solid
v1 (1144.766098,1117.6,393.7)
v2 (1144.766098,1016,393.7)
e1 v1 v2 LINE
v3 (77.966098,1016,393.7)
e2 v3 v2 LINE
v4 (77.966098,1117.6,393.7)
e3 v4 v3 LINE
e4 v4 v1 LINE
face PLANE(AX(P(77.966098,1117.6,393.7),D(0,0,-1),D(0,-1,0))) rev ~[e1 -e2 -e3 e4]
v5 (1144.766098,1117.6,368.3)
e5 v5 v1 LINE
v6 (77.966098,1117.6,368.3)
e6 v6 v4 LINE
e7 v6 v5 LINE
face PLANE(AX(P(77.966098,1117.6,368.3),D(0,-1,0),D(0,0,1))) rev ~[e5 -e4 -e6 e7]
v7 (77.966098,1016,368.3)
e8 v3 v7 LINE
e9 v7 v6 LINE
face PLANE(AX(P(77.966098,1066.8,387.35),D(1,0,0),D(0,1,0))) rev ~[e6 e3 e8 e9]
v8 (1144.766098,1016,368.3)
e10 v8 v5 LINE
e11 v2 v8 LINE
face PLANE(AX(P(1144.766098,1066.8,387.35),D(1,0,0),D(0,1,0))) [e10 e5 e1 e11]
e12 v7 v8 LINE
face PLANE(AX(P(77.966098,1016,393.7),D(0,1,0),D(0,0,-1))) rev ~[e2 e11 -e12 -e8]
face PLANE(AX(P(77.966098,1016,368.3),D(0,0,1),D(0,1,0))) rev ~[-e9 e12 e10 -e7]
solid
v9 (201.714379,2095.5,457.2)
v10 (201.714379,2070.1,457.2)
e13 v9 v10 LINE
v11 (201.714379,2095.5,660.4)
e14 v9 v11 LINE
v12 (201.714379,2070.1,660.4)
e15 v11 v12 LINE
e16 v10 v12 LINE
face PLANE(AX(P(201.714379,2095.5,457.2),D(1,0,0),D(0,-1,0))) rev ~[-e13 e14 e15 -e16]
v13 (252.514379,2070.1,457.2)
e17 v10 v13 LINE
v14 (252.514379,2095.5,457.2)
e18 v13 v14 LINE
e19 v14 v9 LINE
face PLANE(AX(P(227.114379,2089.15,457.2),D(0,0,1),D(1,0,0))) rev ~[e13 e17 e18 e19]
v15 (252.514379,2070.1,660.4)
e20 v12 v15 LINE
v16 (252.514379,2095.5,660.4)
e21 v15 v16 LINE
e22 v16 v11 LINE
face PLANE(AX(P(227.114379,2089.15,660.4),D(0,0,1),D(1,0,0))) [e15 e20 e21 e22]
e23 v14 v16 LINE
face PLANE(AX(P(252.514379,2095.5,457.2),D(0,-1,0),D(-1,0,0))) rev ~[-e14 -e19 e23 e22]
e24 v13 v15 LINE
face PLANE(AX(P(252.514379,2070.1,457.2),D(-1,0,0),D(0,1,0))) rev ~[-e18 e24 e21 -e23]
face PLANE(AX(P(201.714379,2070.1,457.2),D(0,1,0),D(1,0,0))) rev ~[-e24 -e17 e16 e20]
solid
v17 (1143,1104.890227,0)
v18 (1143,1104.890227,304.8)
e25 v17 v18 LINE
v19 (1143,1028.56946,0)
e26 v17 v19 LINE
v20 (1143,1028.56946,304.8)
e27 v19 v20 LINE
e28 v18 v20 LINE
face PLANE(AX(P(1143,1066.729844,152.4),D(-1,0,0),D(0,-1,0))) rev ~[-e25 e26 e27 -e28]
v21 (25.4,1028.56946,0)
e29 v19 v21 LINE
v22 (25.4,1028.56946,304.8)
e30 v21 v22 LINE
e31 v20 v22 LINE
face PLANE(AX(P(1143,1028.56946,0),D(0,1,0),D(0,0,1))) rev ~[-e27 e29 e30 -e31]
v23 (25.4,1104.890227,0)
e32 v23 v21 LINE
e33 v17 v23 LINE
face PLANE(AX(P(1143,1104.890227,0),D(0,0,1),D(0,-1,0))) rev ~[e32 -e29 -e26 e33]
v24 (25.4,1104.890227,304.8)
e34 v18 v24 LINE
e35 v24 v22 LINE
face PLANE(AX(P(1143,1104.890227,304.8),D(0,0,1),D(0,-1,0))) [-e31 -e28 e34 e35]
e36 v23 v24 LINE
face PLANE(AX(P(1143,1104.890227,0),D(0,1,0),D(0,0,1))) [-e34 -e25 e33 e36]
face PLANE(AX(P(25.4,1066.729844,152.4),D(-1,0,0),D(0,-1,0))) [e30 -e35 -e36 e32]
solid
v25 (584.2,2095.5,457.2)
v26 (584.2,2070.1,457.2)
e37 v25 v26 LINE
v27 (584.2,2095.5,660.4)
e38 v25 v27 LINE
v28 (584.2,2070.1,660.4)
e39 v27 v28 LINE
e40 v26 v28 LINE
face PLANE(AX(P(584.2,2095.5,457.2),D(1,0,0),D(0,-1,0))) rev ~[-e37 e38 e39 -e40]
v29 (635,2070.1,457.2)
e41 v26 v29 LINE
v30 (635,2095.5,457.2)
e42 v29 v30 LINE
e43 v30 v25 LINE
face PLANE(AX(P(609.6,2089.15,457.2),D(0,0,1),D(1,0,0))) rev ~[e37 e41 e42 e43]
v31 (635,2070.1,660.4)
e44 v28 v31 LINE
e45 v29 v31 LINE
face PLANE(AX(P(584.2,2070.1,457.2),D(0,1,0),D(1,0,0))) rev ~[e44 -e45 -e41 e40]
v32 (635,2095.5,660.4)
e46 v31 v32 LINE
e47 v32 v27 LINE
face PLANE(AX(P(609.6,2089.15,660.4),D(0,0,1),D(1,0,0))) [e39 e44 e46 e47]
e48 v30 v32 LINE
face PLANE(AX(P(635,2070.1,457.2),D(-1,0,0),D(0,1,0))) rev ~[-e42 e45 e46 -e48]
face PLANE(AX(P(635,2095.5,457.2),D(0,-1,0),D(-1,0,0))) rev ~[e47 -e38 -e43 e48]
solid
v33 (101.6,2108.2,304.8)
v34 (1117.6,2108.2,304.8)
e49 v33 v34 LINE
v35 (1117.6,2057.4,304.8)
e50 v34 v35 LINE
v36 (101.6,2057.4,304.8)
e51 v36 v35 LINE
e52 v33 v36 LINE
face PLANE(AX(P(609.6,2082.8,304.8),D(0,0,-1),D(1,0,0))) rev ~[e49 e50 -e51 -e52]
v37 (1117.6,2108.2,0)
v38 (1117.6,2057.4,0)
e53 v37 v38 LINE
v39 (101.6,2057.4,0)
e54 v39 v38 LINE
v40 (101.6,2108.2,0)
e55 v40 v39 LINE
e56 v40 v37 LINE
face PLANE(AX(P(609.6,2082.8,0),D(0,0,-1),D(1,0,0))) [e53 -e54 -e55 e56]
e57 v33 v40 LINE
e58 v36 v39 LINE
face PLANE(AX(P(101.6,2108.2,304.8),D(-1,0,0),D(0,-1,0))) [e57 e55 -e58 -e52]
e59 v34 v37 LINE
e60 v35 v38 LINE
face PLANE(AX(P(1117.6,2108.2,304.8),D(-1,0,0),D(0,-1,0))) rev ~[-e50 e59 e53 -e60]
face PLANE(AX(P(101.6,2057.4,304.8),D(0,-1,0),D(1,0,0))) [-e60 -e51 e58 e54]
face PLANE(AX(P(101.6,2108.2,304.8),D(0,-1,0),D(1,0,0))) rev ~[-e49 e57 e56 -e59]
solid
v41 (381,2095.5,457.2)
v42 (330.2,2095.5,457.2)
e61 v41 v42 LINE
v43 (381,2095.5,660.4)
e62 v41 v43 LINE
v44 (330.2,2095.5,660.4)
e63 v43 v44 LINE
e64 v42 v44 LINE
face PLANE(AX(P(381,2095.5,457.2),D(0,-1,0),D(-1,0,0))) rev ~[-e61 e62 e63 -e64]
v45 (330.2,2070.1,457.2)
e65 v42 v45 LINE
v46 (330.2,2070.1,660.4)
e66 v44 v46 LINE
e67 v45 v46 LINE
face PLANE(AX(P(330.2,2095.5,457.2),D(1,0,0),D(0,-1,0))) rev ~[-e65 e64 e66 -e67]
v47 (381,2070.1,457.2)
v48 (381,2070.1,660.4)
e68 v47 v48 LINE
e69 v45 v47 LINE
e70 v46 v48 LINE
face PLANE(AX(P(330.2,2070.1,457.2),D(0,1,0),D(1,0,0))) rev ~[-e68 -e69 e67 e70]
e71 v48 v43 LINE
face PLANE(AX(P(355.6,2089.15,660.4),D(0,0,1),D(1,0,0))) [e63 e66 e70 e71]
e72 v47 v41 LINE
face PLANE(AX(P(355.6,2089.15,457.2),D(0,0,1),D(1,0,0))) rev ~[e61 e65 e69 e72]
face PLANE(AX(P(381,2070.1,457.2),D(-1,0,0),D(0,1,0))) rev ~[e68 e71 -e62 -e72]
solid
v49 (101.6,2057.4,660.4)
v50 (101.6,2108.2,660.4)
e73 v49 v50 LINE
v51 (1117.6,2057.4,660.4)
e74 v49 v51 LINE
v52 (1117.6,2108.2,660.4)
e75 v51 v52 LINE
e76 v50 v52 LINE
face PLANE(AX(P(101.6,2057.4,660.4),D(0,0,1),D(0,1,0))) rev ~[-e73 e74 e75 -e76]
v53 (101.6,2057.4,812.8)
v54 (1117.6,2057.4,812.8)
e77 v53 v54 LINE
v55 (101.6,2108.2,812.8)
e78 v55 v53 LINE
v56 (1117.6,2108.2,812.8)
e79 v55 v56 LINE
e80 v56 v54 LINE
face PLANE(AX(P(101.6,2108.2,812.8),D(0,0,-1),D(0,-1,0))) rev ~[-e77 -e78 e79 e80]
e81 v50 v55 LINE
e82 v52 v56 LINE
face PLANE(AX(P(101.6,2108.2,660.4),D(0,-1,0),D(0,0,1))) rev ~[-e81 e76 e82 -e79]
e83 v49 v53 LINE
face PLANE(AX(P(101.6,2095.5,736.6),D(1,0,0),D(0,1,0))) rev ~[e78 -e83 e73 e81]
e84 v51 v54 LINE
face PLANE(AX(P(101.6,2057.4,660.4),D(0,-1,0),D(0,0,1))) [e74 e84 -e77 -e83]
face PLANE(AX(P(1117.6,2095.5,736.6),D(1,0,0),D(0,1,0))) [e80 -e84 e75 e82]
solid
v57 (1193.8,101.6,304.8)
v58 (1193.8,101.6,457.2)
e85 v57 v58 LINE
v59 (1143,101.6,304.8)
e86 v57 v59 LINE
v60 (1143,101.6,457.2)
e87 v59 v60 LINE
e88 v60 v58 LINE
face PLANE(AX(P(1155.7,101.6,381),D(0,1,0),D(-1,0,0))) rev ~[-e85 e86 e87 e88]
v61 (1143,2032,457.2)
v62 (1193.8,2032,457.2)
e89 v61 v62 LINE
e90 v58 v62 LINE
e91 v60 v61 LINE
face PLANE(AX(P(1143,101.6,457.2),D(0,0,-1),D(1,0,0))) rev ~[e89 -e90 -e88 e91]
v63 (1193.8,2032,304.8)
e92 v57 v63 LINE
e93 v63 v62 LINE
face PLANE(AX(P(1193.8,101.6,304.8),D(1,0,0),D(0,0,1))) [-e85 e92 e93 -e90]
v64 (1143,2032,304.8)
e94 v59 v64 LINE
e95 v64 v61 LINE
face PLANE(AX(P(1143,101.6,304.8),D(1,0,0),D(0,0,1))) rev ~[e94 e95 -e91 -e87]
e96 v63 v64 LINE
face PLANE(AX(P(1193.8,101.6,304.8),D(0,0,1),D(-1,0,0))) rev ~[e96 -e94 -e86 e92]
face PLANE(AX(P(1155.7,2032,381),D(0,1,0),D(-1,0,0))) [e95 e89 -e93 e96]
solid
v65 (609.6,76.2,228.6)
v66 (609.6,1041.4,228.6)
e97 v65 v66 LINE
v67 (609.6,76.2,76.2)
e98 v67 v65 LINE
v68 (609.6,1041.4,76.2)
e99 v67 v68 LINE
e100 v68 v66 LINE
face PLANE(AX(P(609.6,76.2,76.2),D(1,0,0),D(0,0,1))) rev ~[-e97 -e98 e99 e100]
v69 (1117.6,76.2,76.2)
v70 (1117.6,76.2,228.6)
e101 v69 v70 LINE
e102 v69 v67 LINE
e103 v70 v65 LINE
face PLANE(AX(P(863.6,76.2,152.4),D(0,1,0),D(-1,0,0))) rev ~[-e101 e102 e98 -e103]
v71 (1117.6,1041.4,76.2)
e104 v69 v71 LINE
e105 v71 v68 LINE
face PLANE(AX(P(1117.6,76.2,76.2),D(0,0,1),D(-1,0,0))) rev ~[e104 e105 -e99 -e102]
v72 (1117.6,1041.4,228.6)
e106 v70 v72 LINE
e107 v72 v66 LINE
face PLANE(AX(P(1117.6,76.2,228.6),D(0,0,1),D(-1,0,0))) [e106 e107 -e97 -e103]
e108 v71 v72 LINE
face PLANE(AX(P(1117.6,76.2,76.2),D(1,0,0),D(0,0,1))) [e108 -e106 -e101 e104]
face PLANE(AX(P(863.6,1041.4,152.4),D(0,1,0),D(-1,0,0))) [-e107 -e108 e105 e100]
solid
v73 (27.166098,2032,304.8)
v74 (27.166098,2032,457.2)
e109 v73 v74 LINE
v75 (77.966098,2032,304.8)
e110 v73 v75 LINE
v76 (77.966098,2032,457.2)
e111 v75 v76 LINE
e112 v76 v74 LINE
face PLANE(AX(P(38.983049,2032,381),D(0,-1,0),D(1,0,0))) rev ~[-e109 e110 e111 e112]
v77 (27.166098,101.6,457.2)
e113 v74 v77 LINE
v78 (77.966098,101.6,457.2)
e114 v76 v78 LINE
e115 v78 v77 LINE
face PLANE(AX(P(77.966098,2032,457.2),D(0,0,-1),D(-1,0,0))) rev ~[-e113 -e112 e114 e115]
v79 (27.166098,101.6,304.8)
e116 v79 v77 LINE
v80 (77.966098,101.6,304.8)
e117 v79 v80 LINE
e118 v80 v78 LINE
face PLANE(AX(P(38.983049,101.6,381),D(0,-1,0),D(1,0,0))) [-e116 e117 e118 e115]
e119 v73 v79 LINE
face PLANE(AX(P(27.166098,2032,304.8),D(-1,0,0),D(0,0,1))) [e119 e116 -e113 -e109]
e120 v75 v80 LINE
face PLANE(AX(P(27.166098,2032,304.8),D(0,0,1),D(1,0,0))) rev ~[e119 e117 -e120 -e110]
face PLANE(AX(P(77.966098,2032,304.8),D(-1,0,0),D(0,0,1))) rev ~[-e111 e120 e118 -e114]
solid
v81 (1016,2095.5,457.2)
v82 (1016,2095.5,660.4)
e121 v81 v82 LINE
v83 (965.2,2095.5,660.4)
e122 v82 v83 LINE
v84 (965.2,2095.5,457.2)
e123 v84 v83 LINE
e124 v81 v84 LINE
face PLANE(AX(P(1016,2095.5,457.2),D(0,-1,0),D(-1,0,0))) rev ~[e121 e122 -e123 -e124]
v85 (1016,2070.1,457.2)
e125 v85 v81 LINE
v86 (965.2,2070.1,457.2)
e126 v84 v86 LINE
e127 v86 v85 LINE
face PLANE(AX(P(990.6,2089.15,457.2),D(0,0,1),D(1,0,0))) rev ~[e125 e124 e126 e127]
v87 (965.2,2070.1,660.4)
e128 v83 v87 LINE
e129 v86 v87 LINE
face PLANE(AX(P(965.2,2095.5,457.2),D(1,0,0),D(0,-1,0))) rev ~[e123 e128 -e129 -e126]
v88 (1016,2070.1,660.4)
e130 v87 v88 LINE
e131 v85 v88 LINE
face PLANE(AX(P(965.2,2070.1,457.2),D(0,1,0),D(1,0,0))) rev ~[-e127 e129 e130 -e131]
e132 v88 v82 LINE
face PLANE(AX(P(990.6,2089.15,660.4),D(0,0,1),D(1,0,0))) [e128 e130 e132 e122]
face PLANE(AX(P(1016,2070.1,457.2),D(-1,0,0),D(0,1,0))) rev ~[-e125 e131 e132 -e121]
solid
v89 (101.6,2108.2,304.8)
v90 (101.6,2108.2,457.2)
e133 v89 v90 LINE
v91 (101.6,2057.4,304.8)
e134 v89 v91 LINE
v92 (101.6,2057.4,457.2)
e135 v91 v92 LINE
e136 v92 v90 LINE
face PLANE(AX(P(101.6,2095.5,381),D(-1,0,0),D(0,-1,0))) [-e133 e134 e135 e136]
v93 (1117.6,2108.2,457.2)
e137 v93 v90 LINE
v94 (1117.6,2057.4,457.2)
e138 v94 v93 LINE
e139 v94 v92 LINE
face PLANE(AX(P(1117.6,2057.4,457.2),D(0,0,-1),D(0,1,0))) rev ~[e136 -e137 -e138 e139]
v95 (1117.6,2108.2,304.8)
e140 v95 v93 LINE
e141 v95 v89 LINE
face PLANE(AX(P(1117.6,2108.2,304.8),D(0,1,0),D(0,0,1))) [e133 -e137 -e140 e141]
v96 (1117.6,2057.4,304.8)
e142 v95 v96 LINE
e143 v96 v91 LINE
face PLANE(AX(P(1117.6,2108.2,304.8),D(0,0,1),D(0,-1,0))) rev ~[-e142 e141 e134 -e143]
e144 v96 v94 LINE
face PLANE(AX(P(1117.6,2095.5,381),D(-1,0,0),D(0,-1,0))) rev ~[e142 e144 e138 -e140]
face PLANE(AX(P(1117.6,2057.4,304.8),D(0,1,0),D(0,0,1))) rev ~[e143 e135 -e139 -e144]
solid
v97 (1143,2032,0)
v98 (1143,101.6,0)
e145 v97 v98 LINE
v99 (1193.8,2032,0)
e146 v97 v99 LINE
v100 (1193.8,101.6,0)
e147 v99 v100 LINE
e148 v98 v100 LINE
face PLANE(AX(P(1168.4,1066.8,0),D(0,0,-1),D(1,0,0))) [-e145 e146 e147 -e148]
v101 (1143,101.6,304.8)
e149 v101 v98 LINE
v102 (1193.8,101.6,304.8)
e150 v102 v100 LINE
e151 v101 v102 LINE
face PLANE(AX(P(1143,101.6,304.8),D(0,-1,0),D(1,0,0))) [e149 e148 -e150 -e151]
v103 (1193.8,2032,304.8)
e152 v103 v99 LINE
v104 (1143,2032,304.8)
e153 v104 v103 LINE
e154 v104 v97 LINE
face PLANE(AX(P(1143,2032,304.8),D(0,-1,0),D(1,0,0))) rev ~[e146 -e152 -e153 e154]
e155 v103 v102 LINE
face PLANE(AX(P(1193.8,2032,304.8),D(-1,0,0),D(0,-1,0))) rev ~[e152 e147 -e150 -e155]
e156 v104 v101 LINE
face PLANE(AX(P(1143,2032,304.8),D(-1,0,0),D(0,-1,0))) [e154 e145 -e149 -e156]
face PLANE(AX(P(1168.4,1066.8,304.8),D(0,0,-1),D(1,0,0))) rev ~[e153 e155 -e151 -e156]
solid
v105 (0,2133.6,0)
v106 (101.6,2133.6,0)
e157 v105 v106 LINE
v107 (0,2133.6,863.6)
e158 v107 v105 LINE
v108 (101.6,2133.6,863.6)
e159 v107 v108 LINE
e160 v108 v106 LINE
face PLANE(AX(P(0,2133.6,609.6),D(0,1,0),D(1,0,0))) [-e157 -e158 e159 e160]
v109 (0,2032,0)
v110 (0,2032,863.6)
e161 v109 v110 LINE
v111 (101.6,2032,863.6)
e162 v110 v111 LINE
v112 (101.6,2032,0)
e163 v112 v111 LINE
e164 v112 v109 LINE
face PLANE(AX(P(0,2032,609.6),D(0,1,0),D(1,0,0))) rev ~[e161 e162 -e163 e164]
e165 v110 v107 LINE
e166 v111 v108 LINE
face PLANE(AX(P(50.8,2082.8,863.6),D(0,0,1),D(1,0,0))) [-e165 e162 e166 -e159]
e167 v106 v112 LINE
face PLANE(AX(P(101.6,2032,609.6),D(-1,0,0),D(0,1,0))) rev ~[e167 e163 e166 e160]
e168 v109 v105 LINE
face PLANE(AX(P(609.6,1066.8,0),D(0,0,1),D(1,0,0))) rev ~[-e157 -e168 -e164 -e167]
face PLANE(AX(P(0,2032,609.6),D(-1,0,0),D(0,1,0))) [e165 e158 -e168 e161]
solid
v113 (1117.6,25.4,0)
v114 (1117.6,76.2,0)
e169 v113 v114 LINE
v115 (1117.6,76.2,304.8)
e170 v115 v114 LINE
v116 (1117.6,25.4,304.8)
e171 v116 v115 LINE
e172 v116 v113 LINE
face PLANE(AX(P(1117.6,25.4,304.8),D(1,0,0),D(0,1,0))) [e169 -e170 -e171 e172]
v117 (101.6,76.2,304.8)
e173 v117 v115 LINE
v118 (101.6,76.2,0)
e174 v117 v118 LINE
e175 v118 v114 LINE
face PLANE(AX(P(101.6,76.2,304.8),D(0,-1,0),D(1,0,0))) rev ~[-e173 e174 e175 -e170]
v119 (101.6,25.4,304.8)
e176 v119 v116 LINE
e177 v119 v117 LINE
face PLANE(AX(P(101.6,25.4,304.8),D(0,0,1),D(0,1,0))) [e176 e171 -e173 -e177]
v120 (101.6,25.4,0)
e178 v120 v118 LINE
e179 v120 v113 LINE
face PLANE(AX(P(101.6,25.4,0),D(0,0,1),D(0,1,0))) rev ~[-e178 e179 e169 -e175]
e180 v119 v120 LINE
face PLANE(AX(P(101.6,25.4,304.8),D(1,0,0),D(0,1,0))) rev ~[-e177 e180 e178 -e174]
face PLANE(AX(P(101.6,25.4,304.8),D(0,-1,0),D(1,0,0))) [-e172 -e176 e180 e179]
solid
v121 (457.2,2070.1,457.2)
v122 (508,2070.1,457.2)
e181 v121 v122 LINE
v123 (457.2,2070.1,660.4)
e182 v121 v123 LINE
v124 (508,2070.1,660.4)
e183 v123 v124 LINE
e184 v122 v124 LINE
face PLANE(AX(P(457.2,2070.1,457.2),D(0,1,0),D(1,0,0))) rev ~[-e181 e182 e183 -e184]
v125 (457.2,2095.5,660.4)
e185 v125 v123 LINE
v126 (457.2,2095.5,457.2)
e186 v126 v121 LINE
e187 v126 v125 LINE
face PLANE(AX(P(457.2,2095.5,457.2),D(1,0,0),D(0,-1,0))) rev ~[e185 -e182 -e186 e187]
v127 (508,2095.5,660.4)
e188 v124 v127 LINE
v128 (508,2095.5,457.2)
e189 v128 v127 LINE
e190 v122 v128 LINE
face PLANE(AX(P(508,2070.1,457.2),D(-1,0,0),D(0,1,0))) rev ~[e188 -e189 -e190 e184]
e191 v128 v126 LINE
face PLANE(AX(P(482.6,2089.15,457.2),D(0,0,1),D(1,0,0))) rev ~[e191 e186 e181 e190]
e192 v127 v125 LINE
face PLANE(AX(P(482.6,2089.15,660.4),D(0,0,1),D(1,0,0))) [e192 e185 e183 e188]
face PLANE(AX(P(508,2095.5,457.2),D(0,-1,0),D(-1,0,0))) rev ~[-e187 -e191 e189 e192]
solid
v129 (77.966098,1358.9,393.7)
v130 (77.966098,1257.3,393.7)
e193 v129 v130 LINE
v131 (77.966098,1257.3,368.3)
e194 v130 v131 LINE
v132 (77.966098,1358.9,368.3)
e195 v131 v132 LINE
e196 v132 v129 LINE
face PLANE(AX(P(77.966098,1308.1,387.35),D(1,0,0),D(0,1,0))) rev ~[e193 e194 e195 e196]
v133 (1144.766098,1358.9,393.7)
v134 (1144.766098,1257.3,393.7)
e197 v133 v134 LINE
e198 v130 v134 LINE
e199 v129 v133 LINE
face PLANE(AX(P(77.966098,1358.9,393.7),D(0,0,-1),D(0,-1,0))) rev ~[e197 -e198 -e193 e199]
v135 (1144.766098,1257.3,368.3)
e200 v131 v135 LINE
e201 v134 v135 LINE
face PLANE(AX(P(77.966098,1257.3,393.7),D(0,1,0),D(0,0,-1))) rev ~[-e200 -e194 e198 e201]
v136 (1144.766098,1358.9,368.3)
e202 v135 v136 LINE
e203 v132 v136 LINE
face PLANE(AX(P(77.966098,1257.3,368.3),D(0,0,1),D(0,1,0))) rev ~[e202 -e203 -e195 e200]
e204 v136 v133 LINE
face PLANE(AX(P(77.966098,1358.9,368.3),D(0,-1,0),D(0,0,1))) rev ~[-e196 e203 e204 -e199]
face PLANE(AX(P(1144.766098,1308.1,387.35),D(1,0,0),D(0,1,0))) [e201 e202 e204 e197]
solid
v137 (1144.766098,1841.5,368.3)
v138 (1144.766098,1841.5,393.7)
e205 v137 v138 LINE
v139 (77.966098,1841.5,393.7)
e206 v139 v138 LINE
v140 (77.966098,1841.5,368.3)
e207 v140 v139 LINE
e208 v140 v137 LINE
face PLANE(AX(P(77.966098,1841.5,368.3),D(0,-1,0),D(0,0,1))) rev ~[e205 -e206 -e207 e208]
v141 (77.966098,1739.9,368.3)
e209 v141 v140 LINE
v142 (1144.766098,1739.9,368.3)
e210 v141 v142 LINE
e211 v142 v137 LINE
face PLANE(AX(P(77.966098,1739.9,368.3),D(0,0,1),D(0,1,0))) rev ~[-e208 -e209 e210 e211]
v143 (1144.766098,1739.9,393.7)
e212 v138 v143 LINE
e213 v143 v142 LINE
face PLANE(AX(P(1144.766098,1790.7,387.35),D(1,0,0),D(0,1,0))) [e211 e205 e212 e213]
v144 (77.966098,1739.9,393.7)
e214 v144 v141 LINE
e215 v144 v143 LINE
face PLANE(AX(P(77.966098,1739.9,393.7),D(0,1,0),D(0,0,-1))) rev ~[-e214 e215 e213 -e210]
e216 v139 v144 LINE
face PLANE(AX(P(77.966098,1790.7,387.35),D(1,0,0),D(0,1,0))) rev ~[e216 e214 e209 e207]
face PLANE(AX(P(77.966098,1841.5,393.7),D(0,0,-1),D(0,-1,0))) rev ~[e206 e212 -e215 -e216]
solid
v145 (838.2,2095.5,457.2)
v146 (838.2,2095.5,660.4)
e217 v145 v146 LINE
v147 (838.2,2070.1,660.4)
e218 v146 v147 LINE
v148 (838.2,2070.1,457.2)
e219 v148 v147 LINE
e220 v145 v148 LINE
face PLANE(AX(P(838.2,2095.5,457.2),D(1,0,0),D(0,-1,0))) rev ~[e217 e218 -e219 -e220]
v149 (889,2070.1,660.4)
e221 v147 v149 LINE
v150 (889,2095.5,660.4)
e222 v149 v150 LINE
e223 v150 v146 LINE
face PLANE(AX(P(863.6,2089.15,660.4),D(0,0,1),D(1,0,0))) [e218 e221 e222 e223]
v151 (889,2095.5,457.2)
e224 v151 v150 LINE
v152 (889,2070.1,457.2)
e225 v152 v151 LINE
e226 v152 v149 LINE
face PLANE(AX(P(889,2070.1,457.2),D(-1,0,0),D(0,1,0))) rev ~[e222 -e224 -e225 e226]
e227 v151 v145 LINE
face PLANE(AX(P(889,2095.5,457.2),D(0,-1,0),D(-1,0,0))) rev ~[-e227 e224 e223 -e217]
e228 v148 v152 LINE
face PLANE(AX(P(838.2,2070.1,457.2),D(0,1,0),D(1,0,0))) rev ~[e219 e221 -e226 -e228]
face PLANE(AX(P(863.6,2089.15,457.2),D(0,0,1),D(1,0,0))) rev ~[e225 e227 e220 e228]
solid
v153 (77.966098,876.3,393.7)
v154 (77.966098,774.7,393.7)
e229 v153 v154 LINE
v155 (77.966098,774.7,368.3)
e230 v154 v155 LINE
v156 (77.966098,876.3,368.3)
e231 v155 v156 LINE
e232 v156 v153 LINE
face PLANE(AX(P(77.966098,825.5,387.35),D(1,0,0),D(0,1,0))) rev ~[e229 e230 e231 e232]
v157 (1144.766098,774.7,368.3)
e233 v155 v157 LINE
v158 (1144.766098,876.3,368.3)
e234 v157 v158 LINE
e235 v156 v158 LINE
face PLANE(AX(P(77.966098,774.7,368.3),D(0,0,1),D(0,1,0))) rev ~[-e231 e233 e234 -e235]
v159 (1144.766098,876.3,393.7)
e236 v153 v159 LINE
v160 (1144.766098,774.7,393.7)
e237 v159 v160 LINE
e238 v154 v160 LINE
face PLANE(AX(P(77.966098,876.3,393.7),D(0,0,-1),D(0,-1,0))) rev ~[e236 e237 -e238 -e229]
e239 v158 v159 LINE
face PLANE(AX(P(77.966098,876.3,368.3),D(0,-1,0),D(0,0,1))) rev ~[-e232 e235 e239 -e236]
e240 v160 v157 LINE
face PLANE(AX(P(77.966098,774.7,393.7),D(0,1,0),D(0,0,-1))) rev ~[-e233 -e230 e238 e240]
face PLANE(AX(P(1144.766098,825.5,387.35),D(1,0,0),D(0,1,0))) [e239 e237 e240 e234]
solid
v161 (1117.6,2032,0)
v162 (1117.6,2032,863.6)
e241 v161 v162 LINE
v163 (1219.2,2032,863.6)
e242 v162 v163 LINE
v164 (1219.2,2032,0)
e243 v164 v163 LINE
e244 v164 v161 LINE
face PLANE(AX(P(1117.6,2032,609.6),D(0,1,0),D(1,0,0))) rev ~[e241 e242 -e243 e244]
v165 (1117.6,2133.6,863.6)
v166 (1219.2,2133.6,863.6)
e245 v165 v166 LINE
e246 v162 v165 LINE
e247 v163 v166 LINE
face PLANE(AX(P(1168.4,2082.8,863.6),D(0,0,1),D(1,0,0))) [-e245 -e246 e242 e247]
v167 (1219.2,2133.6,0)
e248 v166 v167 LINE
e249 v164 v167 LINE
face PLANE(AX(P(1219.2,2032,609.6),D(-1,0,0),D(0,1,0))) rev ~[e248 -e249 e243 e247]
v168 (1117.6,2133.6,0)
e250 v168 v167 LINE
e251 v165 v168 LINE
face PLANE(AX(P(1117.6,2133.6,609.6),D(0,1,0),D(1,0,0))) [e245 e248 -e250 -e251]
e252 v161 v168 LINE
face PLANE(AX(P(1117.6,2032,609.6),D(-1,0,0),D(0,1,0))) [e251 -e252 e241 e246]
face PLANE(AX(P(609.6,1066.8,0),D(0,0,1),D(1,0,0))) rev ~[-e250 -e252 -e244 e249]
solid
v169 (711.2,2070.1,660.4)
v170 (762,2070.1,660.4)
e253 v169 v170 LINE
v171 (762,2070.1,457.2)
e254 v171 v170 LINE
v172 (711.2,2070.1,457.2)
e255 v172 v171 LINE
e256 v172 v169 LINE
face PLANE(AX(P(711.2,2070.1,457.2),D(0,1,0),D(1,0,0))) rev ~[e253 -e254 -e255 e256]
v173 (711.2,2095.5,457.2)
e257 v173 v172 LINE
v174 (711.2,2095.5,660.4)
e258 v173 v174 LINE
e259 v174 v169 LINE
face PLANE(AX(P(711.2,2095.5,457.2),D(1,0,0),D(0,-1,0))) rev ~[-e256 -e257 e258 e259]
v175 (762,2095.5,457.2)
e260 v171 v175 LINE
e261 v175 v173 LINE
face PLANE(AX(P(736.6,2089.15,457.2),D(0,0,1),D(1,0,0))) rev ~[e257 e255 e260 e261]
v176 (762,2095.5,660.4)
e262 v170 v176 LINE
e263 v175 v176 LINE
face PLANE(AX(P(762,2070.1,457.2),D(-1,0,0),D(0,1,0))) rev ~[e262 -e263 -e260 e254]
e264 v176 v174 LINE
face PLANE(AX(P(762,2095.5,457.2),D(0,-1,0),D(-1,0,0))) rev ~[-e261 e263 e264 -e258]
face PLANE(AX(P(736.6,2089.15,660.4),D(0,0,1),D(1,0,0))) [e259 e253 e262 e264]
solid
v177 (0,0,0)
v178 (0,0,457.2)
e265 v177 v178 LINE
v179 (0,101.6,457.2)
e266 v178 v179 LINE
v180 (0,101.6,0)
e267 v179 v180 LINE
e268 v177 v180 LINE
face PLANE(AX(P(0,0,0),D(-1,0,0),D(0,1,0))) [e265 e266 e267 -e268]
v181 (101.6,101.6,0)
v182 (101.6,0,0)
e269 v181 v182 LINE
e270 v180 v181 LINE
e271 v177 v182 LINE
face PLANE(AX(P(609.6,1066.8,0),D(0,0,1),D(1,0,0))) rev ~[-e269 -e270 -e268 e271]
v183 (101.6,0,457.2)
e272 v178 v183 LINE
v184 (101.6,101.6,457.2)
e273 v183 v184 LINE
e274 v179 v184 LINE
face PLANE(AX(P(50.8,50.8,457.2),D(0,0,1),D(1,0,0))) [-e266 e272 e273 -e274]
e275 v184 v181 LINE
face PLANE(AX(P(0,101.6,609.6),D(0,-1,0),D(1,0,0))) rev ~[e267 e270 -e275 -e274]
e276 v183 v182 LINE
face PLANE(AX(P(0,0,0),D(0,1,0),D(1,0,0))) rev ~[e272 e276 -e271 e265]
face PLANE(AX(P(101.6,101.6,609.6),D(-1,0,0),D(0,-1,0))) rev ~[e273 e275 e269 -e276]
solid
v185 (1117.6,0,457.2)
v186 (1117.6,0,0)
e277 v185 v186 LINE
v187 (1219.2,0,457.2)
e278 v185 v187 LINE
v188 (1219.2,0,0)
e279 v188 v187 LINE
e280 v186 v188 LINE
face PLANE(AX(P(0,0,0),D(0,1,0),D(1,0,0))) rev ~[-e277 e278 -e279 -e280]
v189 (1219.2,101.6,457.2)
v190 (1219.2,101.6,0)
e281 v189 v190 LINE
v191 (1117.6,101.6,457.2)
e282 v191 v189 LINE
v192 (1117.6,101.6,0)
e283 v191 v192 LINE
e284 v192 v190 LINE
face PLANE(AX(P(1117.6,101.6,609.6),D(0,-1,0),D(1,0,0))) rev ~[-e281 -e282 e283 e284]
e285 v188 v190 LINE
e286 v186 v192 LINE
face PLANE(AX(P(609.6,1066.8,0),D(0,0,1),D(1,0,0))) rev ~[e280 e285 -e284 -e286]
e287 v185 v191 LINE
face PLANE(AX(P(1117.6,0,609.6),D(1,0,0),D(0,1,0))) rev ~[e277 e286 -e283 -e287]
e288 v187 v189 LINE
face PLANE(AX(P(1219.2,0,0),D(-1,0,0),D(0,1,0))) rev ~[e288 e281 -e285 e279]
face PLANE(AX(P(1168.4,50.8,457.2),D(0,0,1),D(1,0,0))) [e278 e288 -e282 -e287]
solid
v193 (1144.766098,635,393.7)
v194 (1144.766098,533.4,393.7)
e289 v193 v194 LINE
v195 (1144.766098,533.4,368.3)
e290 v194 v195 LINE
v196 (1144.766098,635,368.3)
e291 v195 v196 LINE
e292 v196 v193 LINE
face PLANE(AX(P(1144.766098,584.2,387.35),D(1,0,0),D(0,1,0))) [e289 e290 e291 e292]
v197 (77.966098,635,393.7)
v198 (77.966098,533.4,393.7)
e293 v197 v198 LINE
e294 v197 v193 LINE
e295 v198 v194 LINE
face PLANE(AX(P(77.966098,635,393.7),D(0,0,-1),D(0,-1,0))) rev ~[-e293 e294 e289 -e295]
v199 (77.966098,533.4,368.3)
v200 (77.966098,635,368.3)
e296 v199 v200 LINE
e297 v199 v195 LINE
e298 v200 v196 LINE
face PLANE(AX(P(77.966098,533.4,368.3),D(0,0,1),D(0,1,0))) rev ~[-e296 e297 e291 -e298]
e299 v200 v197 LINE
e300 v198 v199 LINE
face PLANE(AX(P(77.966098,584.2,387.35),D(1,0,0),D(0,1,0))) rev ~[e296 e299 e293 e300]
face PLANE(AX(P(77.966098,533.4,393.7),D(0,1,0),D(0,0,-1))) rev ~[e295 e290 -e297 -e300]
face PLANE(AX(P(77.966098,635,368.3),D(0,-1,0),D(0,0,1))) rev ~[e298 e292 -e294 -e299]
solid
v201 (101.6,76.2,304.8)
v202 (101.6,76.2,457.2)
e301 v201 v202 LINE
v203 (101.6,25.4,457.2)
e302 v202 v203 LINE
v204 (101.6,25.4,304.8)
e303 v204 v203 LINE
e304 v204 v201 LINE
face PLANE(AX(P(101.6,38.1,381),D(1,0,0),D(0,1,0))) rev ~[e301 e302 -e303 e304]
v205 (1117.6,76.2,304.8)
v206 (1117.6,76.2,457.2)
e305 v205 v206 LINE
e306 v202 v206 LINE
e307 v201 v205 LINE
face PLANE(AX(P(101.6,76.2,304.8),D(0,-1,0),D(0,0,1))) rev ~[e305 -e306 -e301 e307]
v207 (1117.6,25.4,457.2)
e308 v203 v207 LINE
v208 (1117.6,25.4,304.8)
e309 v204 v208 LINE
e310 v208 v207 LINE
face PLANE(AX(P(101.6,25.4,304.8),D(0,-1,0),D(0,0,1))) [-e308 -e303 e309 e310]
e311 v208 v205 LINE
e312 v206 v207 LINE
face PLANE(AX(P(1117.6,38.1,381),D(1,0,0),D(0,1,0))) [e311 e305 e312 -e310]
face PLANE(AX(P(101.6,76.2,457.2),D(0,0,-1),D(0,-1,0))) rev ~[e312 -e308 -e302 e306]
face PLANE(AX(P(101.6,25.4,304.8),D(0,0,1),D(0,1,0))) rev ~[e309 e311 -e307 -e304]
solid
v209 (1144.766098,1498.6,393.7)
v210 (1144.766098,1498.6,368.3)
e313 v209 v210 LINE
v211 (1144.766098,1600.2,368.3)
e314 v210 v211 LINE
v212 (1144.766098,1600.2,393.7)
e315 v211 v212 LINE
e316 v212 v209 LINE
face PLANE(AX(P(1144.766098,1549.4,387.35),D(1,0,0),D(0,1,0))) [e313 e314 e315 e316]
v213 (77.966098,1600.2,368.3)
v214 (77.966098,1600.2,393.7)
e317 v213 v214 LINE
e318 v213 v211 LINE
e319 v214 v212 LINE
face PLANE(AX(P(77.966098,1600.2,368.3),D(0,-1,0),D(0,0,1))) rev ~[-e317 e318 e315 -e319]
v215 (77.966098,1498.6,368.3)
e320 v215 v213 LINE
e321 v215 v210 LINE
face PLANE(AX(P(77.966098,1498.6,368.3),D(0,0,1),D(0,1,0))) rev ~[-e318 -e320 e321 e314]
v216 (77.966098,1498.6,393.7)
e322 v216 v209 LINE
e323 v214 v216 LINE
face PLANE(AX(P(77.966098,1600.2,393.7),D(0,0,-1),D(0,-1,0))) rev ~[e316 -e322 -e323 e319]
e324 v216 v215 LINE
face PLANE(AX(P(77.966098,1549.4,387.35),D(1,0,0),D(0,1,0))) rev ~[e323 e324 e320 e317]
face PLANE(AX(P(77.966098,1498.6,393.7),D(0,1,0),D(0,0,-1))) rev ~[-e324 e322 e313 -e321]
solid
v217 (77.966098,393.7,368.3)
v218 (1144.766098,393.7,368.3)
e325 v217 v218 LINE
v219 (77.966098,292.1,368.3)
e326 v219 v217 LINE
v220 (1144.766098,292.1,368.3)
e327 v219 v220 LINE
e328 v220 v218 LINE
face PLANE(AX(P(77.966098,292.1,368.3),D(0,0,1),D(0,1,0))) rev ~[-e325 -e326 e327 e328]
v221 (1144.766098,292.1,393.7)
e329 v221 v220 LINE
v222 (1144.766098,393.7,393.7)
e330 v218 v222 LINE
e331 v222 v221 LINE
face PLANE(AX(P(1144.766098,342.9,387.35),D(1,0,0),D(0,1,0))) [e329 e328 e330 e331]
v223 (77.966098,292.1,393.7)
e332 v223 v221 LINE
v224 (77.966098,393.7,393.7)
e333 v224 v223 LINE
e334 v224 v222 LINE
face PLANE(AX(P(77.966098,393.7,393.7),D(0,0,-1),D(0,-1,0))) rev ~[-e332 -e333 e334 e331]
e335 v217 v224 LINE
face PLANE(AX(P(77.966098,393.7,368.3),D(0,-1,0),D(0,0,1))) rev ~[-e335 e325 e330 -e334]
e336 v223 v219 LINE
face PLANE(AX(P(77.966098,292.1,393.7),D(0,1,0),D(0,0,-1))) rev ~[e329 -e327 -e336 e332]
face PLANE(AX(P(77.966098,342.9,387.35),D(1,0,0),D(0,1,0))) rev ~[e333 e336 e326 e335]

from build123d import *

# Parameters (mm, degrees)
F0_W      = 1219.2
F0_H      = 2133.6
F1_DEPTH  = 609.6
F3_DEPTH  = 609.6
F4_W      = 23.6339016438
F4_H      = 152.4
F4_W_2    = 27.1660983562
F5_DEPTH  = 1930.4
F6_W      = 25.4
F6_H      = 152.4
F7_DEPTH  = 1016
F8_W      = 25.4
F8_H      = 152.4
F9_DEPTH  = 1930.4
F10_W     = 25.4
F10_H     = 152.4
F11_DEPTH = 1016
F14_DEPTH = 1066.8
F15_W     = 101.6
F15_H     = 101.6
F16_DEPTH = 254
F17_W     = 101.6
F17_H     = 101.6
F18_DEPTH = 254
F19_W     = 25.4
F19_H     = 152.4
F20_DEPTH = 1016
F22_DEPTH = 203.2
F23_W     = 101.6
F23_H     = 101.6
F24_DEPTH = 76.2
F25_DEPTH = 76.2
F12_W     = 101.6
F12_H     = 101.6
F26_W     = 101.4268994331
F26_H     = 0.2518656492
F27_DEPTH = 152.4
F28_W     = 1016
F28_H     = 50.8
F29_DEPTH = 304.8
F30_DEPTH = 304.8
F31_W     = 50.8
F31_H     = 1930.4
F32_DEPTH = 304.8
F35_W     = 76.3207674026
F35_H     = 304.8
F36_DEPTH = 1117.6
F33_W     = 508
F33_H     = 152.4
F37_DEPTH = 965.2


with BuildPart() as f1:
    # F0 (on Top) → F1 (new body)
    with BuildSketch(Plane.XY):
        with Locations((609.6, 1066.8)):
            Rectangle(F0_W, F0_H)
    extrude(amount=F1_DEPTH)

    # F2 (on face) → F3 (cut)
    with BuildSketch(Plane.XY.offset(609.6)):
        Polygon((101.6, 101.6), (101.6, 0), (1117.6, 0), (1117.6, 101.6), (1219.2, 101.6), (1219.2, 2032), (1117.6, 2032), (1117.6, 2133.6), (101.6, 2133.6), (101.6, 2032), (0, 2032), (0, 101.6), align=None)
    extrude(amount=-F3_DEPTH, mode=Mode.SUBTRACT)

    # F15 (on face) → F16 (join)
    with BuildSketch(Plane.XY.offset(609.6)):
        with Locations((1168.4, 2082.8)):
            Rectangle(F15_W, F15_H)
    extrude(amount=F16_DEPTH)

    # F17 (on face) → F18 (join)
    with BuildSketch(Plane.XY.offset(609.6)):
        with Locations((50.8, 2082.8)):
            Rectangle(F17_W, F17_H)
    extrude(amount=F18_DEPTH)

    # F23 (on face) → F24 (cut)
    with BuildSketch(Plane.XY.offset(609.6)):
        with Locations((1168.4, 50.8)):
            Rectangle(F23_W, F23_H)
    extrude(amount=-F24_DEPTH, mode=Mode.SUBTRACT)

    # F25 (cut): a face of the model
    f25_faces = [f1.faces().sort_by_distance(p)[0] for p in [
        (1168.4, 50.8, 533.4),
    ]]
    extrude(f25_faces, amount=-F25_DEPTH, mode=Mode.SUBTRACT)

    # F12 (on face) + F26 (on face) → F27 (cut)
    with BuildSketch(Plane.XY.offset(609.6)):
        with Locations((50.8, 50.8)):
            Rectangle(F12_W, F12_H)
    with BuildSketch(Plane.XY.offset(609.6)):
        with Locations((50.7134497166, 101.7259328246)):
            Rectangle(F26_W, F26_H)
    extrude(amount=-F27_DEPTH, mode=Mode.SUBTRACT)


with BuildPart() as f5:
    # F4 (on face) → F5 (new body)
    with BuildSketch(Plane.XZ.offset(-2032)):
        with Locations((38.9830491781, 381)):
            Rectangle(F4_W, F4_H)
        with Locations((64.3830491781, 381)):
            Rectangle(F4_W_2, F4_H)
    extrude(amount=F5_DEPTH)


with BuildPart() as f7:
    # F6 (on face) → F7 (new body)
    with BuildSketch(Plane.YZ.offset(101.6)):
        with Locations((38.1, 381)):
            Rectangle(F6_W, F6_H)
        with Locations((63.5, 381)):
            Rectangle(F6_W, F6_H)
    extrude(amount=F7_DEPTH)


with BuildPart() as f9:
    # F8 (on face) → F9 (new body)
    with BuildSketch(Plane(origin=(0, 101.6, 0), x_dir=(-1, 0, 0), z_dir=(0, 1, 0))):
        with Locations((-1155.7, 381)):
            Rectangle(F8_W, F8_H)
        with Locations((-1181.1, 381)):
            Rectangle(F8_W, F8_H)
    extrude(amount=F9_DEPTH)


with BuildPart() as f11:
    # F10 (on face) → F11 (new body)
    with BuildSketch(Plane(origin=(1117.6, 0, 0), x_dir=(0, -1, 0), z_dir=(-1, 0, 0))):
        with Locations((-2095.5, 381)):
            Rectangle(F10_W, F10_H)
        with Locations((-2070.1, 381)):
            Rectangle(F10_W, F10_H)
    extrude(amount=F11_DEPTH)


with BuildPart() as f14:
    # F13 (on face) → F14 (new body)
    with BuildSketch(Plane.YZ.offset(77.9660983562)):
        Polygon((292.1, 393.7), (292.1, 381), (342.9, 381), (393.7, 381), (393.7, 393.7), align=None)
        Polygon((342.9, 381), (292.1, 381), (292.1, 368.3), (393.7, 368.3), (393.7, 381), align=None)
    extrude(amount=F14_DEPTH)


with BuildPart() as f14b:
    # F13 (on face) → F14, piece 2 (new body)
    with BuildSketch(Plane.YZ.offset(77.9660983562)):
        Polygon((1739.9, 393.7), (1739.9, 381), (1790.7, 381), (1841.5, 381), (1841.5, 393.7), align=None)
        Polygon((1790.7, 381), (1739.9, 381), (1739.9, 368.3), (1841.5, 368.3), (1841.5, 381), align=None)
    extrude(amount=F14_DEPTH)


with BuildPart() as f14c:
    # F13 (on face) → F14, piece 3 (new body)
    with BuildSketch(Plane.YZ.offset(77.9660983562)):
        Polygon((1498.6, 393.7), (1498.6, 381), (1549.4, 381), (1600.2, 381), (1600.2, 393.7), align=None)
        Polygon((1549.4, 381), (1498.6, 381), (1498.6, 368.3), (1600.2, 368.3), (1600.2, 381), align=None)
    extrude(amount=F14_DEPTH)


with BuildPart() as f14d:
    # F13 (on face) → F14, piece 4 (new body)
    with BuildSketch(Plane.YZ.offset(77.9660983562)):
        Polygon((1257.3, 393.7), (1257.3, 381), (1308.1, 381), (1358.9, 381), (1358.9, 393.7), align=None)
        Polygon((1308.1, 381), (1257.3, 381), (1257.3, 368.3), (1358.9, 368.3), (1358.9, 381), align=None)
    extrude(amount=F14_DEPTH)


with BuildPart() as f14e:
    # F13 (on face) → F14, piece 5 (new body)
    with BuildSketch(Plane.YZ.offset(77.9660983562)):
        Polygon((1016, 393.7), (1016, 381), (1066.8, 381), (1117.6, 381), (1117.6, 393.7), align=None)
        Polygon((1066.8, 381), (1016, 381), (1016, 368.3), (1117.6, 368.3), (1117.6, 381), align=None)
    extrude(amount=F14_DEPTH)


with BuildPart() as f14f:
    # F13 (on face) → F14, piece 6 (new body)
    with BuildSketch(Plane.YZ.offset(77.9660983562)):
        Polygon((774.7, 393.7), (774.7, 381), (825.5, 381), (876.3, 381), (876.3, 393.7), align=None)
        Polygon((825.5, 381), (774.7, 381), (774.7, 368.3), (876.3, 368.3), (876.3, 381), align=None)
    extrude(amount=F14_DEPTH)


with BuildPart() as f14g:
    # F13 (on face) → F14, piece 7 (new body)
    with BuildSketch(Plane.YZ.offset(77.9660983562)):
        Polygon((533.4, 393.7), (533.4, 381), (584.2, 381), (635, 381), (635, 393.7), align=None)
        Polygon((584.2, 381), (533.4, 381), (533.4, 368.3), (635, 368.3), (635, 381), align=None)
    extrude(amount=F14_DEPTH)


with BuildPart() as f20:
    # F19 (on face) → F20 (new body)
    with BuildSketch(Plane.YZ.offset(101.6)):
        with Locations((2095.5, 736.6)):
            Rectangle(F19_W, F19_H)
        with Locations((2070.1, 736.6)):
            Rectangle(F19_W, F19_H)
    extrude(amount=F20_DEPTH)


with BuildPart() as f22:
    # F21 (on face) → F22 (new body)
    with BuildSketch(Plane.XY.offset(457.2)):
        Polygon((201.714379406, 2095.5), (201.714379406, 2082.8), (227.114379406, 2082.8), (252.514379406, 2082.8), (252.514379406, 2095.5), align=None)
        Polygon((227.114379406, 2082.8), (201.714379406, 2082.8), (201.714379406, 2070.1), (252.514379406, 2070.1), (252.514379406, 2082.8), align=None)
    extrude(amount=F22_DEPTH)


with BuildPart() as f22b:
    # F21 (on face) → F22, piece 2 (new body)
    with BuildSketch(Plane.XY.offset(457.2)):
        Polygon((965.2, 2095.5), (965.2, 2082.8), (990.6, 2082.8), (1016, 2082.8), (1016, 2095.5), align=None)
        Polygon((990.6, 2082.8), (965.2, 2082.8), (965.2, 2070.1), (1016, 2070.1), (1016, 2082.8), align=None)
    extrude(amount=F22_DEPTH)


with BuildPart() as f22c:
    # F21 (on face) → F22, piece 3 (new body)
    with BuildSketch(Plane.XY.offset(457.2)):
        Polygon((838.2, 2095.5), (838.2, 2082.8), (863.6, 2082.8), (889, 2082.8), (889, 2095.5), align=None)
        Polygon((863.6, 2082.8), (838.2, 2082.8), (838.2, 2070.1), (889, 2070.1), (889, 2082.8), align=None)
    extrude(amount=F22_DEPTH)


with BuildPart() as f22d:
    # F21 (on face) → F22, piece 4 (new body)
    with BuildSketch(Plane.XY.offset(457.2)):
        Polygon((711.2, 2095.5), (711.2, 2082.8), (736.6, 2082.8), (762, 2082.8), (762, 2095.5), align=None)
        Polygon((736.6, 2082.8), (711.2, 2082.8), (711.2, 2070.1), (762, 2070.1), (762, 2082.8), align=None)
    extrude(amount=F22_DEPTH)


with BuildPart() as f22e:
    # F21 (on face) → F22, piece 5 (new body)
    with BuildSketch(Plane.XY.offset(457.2)):
        Polygon((584.2, 2095.5), (584.2, 2082.8), (609.6, 2082.8), (635, 2082.8), (635, 2095.5), align=None)
        Polygon((609.6, 2082.8), (584.2, 2082.8), (584.2, 2070.1), (635, 2070.1), (635, 2082.8), align=None)
    extrude(amount=F22_DEPTH)


with BuildPart() as f22f:
    # F21 (on face) → F22, piece 6 (new body)
    with BuildSketch(Plane.XY.offset(457.2)):
        Polygon((457.2, 2095.5), (457.2, 2082.8), (482.6, 2082.8), (508, 2082.8), (508, 2095.5), align=None)
        Polygon((482.6, 2082.8), (457.2, 2082.8), (457.2, 2070.1), (508, 2070.1), (508, 2082.8), align=None)
    extrude(amount=F22_DEPTH)


with BuildPart() as f22g:
    # F21 (on face) → F22, piece 7 (new body)
    with BuildSketch(Plane.XY.offset(457.2)):
        Polygon((330.2, 2095.5), (330.2, 2082.8), (355.6, 2082.8), (381, 2082.8), (381, 2095.5), align=None)
        Polygon((355.6, 2082.8), (330.2, 2082.8), (330.2, 2070.1), (381, 2070.1), (381, 2082.8), align=None)
    extrude(amount=F22_DEPTH)


with BuildPart() as f29:
    # F28 (on face) → F29 (new body)
    with BuildSketch(Plane(origin=(0, 0, 304.8), x_dir=(1, 0, 0), z_dir=(0, 0, -1))):
        with Locations((609.6, -2082.8)):
            Rectangle(F28_W, F28_H)
    extrude(amount=F29_DEPTH)


with BuildPart() as f30:
    # F30 (new): a face of the model
    f30_faces = [f7.part.faces().sort_by_distance(p)[0] for p in [
        (609.6, 50.8, 304.8),
    ]]
    extrude(f30_faces, amount=F30_DEPTH)


with BuildPart() as f32:
    # F31 (on face) → F32 (new body)
    with BuildSketch(Plane(origin=(0, 0, 304.8), x_dir=(1, 0, 0), z_dir=(0, 0, -1))):
        with Locations((1168.4, -1066.8)):
            Rectangle(F31_W, F31_H)
    extrude(amount=F32_DEPTH)


with BuildPart() as f36:
    # F35 (on face) → F36 (new body)
    with BuildSketch(Plane(origin=(1143, 0, 0), x_dir=(0, -1, 0), z_dir=(-1, 0, 0))):
        with Locations((-1066.7298436165, 152.4)):
            Rectangle(F35_W, F35_H)
    extrude(amount=F36_DEPTH)


with BuildPart() as f37:
    # F33 (on face) → F37 (new body)
    with BuildSketch(Plane(origin=(0, 76.2, 0), x_dir=(-1, 0, 0), z_dir=(0, 1, 0))):
        with Locations((-863.6, 152.4)):
            Rectangle(F33_W, F33_H)
    extrude(amount=F37_DEPTH)


solid = Compound([f1.part, f5.part, f7.part, f9.part, f11.part, f14.part, f14b.part, f14c.part, f14d.part, f14e.part, f14f.part, f14g.part, f20.part, f22.part, f22b.part, f22c.part, f22d.part, f22e.part, f22f.part, f22g.part, f29.part, f30.part, f32.part, f36.part, f37.part])
